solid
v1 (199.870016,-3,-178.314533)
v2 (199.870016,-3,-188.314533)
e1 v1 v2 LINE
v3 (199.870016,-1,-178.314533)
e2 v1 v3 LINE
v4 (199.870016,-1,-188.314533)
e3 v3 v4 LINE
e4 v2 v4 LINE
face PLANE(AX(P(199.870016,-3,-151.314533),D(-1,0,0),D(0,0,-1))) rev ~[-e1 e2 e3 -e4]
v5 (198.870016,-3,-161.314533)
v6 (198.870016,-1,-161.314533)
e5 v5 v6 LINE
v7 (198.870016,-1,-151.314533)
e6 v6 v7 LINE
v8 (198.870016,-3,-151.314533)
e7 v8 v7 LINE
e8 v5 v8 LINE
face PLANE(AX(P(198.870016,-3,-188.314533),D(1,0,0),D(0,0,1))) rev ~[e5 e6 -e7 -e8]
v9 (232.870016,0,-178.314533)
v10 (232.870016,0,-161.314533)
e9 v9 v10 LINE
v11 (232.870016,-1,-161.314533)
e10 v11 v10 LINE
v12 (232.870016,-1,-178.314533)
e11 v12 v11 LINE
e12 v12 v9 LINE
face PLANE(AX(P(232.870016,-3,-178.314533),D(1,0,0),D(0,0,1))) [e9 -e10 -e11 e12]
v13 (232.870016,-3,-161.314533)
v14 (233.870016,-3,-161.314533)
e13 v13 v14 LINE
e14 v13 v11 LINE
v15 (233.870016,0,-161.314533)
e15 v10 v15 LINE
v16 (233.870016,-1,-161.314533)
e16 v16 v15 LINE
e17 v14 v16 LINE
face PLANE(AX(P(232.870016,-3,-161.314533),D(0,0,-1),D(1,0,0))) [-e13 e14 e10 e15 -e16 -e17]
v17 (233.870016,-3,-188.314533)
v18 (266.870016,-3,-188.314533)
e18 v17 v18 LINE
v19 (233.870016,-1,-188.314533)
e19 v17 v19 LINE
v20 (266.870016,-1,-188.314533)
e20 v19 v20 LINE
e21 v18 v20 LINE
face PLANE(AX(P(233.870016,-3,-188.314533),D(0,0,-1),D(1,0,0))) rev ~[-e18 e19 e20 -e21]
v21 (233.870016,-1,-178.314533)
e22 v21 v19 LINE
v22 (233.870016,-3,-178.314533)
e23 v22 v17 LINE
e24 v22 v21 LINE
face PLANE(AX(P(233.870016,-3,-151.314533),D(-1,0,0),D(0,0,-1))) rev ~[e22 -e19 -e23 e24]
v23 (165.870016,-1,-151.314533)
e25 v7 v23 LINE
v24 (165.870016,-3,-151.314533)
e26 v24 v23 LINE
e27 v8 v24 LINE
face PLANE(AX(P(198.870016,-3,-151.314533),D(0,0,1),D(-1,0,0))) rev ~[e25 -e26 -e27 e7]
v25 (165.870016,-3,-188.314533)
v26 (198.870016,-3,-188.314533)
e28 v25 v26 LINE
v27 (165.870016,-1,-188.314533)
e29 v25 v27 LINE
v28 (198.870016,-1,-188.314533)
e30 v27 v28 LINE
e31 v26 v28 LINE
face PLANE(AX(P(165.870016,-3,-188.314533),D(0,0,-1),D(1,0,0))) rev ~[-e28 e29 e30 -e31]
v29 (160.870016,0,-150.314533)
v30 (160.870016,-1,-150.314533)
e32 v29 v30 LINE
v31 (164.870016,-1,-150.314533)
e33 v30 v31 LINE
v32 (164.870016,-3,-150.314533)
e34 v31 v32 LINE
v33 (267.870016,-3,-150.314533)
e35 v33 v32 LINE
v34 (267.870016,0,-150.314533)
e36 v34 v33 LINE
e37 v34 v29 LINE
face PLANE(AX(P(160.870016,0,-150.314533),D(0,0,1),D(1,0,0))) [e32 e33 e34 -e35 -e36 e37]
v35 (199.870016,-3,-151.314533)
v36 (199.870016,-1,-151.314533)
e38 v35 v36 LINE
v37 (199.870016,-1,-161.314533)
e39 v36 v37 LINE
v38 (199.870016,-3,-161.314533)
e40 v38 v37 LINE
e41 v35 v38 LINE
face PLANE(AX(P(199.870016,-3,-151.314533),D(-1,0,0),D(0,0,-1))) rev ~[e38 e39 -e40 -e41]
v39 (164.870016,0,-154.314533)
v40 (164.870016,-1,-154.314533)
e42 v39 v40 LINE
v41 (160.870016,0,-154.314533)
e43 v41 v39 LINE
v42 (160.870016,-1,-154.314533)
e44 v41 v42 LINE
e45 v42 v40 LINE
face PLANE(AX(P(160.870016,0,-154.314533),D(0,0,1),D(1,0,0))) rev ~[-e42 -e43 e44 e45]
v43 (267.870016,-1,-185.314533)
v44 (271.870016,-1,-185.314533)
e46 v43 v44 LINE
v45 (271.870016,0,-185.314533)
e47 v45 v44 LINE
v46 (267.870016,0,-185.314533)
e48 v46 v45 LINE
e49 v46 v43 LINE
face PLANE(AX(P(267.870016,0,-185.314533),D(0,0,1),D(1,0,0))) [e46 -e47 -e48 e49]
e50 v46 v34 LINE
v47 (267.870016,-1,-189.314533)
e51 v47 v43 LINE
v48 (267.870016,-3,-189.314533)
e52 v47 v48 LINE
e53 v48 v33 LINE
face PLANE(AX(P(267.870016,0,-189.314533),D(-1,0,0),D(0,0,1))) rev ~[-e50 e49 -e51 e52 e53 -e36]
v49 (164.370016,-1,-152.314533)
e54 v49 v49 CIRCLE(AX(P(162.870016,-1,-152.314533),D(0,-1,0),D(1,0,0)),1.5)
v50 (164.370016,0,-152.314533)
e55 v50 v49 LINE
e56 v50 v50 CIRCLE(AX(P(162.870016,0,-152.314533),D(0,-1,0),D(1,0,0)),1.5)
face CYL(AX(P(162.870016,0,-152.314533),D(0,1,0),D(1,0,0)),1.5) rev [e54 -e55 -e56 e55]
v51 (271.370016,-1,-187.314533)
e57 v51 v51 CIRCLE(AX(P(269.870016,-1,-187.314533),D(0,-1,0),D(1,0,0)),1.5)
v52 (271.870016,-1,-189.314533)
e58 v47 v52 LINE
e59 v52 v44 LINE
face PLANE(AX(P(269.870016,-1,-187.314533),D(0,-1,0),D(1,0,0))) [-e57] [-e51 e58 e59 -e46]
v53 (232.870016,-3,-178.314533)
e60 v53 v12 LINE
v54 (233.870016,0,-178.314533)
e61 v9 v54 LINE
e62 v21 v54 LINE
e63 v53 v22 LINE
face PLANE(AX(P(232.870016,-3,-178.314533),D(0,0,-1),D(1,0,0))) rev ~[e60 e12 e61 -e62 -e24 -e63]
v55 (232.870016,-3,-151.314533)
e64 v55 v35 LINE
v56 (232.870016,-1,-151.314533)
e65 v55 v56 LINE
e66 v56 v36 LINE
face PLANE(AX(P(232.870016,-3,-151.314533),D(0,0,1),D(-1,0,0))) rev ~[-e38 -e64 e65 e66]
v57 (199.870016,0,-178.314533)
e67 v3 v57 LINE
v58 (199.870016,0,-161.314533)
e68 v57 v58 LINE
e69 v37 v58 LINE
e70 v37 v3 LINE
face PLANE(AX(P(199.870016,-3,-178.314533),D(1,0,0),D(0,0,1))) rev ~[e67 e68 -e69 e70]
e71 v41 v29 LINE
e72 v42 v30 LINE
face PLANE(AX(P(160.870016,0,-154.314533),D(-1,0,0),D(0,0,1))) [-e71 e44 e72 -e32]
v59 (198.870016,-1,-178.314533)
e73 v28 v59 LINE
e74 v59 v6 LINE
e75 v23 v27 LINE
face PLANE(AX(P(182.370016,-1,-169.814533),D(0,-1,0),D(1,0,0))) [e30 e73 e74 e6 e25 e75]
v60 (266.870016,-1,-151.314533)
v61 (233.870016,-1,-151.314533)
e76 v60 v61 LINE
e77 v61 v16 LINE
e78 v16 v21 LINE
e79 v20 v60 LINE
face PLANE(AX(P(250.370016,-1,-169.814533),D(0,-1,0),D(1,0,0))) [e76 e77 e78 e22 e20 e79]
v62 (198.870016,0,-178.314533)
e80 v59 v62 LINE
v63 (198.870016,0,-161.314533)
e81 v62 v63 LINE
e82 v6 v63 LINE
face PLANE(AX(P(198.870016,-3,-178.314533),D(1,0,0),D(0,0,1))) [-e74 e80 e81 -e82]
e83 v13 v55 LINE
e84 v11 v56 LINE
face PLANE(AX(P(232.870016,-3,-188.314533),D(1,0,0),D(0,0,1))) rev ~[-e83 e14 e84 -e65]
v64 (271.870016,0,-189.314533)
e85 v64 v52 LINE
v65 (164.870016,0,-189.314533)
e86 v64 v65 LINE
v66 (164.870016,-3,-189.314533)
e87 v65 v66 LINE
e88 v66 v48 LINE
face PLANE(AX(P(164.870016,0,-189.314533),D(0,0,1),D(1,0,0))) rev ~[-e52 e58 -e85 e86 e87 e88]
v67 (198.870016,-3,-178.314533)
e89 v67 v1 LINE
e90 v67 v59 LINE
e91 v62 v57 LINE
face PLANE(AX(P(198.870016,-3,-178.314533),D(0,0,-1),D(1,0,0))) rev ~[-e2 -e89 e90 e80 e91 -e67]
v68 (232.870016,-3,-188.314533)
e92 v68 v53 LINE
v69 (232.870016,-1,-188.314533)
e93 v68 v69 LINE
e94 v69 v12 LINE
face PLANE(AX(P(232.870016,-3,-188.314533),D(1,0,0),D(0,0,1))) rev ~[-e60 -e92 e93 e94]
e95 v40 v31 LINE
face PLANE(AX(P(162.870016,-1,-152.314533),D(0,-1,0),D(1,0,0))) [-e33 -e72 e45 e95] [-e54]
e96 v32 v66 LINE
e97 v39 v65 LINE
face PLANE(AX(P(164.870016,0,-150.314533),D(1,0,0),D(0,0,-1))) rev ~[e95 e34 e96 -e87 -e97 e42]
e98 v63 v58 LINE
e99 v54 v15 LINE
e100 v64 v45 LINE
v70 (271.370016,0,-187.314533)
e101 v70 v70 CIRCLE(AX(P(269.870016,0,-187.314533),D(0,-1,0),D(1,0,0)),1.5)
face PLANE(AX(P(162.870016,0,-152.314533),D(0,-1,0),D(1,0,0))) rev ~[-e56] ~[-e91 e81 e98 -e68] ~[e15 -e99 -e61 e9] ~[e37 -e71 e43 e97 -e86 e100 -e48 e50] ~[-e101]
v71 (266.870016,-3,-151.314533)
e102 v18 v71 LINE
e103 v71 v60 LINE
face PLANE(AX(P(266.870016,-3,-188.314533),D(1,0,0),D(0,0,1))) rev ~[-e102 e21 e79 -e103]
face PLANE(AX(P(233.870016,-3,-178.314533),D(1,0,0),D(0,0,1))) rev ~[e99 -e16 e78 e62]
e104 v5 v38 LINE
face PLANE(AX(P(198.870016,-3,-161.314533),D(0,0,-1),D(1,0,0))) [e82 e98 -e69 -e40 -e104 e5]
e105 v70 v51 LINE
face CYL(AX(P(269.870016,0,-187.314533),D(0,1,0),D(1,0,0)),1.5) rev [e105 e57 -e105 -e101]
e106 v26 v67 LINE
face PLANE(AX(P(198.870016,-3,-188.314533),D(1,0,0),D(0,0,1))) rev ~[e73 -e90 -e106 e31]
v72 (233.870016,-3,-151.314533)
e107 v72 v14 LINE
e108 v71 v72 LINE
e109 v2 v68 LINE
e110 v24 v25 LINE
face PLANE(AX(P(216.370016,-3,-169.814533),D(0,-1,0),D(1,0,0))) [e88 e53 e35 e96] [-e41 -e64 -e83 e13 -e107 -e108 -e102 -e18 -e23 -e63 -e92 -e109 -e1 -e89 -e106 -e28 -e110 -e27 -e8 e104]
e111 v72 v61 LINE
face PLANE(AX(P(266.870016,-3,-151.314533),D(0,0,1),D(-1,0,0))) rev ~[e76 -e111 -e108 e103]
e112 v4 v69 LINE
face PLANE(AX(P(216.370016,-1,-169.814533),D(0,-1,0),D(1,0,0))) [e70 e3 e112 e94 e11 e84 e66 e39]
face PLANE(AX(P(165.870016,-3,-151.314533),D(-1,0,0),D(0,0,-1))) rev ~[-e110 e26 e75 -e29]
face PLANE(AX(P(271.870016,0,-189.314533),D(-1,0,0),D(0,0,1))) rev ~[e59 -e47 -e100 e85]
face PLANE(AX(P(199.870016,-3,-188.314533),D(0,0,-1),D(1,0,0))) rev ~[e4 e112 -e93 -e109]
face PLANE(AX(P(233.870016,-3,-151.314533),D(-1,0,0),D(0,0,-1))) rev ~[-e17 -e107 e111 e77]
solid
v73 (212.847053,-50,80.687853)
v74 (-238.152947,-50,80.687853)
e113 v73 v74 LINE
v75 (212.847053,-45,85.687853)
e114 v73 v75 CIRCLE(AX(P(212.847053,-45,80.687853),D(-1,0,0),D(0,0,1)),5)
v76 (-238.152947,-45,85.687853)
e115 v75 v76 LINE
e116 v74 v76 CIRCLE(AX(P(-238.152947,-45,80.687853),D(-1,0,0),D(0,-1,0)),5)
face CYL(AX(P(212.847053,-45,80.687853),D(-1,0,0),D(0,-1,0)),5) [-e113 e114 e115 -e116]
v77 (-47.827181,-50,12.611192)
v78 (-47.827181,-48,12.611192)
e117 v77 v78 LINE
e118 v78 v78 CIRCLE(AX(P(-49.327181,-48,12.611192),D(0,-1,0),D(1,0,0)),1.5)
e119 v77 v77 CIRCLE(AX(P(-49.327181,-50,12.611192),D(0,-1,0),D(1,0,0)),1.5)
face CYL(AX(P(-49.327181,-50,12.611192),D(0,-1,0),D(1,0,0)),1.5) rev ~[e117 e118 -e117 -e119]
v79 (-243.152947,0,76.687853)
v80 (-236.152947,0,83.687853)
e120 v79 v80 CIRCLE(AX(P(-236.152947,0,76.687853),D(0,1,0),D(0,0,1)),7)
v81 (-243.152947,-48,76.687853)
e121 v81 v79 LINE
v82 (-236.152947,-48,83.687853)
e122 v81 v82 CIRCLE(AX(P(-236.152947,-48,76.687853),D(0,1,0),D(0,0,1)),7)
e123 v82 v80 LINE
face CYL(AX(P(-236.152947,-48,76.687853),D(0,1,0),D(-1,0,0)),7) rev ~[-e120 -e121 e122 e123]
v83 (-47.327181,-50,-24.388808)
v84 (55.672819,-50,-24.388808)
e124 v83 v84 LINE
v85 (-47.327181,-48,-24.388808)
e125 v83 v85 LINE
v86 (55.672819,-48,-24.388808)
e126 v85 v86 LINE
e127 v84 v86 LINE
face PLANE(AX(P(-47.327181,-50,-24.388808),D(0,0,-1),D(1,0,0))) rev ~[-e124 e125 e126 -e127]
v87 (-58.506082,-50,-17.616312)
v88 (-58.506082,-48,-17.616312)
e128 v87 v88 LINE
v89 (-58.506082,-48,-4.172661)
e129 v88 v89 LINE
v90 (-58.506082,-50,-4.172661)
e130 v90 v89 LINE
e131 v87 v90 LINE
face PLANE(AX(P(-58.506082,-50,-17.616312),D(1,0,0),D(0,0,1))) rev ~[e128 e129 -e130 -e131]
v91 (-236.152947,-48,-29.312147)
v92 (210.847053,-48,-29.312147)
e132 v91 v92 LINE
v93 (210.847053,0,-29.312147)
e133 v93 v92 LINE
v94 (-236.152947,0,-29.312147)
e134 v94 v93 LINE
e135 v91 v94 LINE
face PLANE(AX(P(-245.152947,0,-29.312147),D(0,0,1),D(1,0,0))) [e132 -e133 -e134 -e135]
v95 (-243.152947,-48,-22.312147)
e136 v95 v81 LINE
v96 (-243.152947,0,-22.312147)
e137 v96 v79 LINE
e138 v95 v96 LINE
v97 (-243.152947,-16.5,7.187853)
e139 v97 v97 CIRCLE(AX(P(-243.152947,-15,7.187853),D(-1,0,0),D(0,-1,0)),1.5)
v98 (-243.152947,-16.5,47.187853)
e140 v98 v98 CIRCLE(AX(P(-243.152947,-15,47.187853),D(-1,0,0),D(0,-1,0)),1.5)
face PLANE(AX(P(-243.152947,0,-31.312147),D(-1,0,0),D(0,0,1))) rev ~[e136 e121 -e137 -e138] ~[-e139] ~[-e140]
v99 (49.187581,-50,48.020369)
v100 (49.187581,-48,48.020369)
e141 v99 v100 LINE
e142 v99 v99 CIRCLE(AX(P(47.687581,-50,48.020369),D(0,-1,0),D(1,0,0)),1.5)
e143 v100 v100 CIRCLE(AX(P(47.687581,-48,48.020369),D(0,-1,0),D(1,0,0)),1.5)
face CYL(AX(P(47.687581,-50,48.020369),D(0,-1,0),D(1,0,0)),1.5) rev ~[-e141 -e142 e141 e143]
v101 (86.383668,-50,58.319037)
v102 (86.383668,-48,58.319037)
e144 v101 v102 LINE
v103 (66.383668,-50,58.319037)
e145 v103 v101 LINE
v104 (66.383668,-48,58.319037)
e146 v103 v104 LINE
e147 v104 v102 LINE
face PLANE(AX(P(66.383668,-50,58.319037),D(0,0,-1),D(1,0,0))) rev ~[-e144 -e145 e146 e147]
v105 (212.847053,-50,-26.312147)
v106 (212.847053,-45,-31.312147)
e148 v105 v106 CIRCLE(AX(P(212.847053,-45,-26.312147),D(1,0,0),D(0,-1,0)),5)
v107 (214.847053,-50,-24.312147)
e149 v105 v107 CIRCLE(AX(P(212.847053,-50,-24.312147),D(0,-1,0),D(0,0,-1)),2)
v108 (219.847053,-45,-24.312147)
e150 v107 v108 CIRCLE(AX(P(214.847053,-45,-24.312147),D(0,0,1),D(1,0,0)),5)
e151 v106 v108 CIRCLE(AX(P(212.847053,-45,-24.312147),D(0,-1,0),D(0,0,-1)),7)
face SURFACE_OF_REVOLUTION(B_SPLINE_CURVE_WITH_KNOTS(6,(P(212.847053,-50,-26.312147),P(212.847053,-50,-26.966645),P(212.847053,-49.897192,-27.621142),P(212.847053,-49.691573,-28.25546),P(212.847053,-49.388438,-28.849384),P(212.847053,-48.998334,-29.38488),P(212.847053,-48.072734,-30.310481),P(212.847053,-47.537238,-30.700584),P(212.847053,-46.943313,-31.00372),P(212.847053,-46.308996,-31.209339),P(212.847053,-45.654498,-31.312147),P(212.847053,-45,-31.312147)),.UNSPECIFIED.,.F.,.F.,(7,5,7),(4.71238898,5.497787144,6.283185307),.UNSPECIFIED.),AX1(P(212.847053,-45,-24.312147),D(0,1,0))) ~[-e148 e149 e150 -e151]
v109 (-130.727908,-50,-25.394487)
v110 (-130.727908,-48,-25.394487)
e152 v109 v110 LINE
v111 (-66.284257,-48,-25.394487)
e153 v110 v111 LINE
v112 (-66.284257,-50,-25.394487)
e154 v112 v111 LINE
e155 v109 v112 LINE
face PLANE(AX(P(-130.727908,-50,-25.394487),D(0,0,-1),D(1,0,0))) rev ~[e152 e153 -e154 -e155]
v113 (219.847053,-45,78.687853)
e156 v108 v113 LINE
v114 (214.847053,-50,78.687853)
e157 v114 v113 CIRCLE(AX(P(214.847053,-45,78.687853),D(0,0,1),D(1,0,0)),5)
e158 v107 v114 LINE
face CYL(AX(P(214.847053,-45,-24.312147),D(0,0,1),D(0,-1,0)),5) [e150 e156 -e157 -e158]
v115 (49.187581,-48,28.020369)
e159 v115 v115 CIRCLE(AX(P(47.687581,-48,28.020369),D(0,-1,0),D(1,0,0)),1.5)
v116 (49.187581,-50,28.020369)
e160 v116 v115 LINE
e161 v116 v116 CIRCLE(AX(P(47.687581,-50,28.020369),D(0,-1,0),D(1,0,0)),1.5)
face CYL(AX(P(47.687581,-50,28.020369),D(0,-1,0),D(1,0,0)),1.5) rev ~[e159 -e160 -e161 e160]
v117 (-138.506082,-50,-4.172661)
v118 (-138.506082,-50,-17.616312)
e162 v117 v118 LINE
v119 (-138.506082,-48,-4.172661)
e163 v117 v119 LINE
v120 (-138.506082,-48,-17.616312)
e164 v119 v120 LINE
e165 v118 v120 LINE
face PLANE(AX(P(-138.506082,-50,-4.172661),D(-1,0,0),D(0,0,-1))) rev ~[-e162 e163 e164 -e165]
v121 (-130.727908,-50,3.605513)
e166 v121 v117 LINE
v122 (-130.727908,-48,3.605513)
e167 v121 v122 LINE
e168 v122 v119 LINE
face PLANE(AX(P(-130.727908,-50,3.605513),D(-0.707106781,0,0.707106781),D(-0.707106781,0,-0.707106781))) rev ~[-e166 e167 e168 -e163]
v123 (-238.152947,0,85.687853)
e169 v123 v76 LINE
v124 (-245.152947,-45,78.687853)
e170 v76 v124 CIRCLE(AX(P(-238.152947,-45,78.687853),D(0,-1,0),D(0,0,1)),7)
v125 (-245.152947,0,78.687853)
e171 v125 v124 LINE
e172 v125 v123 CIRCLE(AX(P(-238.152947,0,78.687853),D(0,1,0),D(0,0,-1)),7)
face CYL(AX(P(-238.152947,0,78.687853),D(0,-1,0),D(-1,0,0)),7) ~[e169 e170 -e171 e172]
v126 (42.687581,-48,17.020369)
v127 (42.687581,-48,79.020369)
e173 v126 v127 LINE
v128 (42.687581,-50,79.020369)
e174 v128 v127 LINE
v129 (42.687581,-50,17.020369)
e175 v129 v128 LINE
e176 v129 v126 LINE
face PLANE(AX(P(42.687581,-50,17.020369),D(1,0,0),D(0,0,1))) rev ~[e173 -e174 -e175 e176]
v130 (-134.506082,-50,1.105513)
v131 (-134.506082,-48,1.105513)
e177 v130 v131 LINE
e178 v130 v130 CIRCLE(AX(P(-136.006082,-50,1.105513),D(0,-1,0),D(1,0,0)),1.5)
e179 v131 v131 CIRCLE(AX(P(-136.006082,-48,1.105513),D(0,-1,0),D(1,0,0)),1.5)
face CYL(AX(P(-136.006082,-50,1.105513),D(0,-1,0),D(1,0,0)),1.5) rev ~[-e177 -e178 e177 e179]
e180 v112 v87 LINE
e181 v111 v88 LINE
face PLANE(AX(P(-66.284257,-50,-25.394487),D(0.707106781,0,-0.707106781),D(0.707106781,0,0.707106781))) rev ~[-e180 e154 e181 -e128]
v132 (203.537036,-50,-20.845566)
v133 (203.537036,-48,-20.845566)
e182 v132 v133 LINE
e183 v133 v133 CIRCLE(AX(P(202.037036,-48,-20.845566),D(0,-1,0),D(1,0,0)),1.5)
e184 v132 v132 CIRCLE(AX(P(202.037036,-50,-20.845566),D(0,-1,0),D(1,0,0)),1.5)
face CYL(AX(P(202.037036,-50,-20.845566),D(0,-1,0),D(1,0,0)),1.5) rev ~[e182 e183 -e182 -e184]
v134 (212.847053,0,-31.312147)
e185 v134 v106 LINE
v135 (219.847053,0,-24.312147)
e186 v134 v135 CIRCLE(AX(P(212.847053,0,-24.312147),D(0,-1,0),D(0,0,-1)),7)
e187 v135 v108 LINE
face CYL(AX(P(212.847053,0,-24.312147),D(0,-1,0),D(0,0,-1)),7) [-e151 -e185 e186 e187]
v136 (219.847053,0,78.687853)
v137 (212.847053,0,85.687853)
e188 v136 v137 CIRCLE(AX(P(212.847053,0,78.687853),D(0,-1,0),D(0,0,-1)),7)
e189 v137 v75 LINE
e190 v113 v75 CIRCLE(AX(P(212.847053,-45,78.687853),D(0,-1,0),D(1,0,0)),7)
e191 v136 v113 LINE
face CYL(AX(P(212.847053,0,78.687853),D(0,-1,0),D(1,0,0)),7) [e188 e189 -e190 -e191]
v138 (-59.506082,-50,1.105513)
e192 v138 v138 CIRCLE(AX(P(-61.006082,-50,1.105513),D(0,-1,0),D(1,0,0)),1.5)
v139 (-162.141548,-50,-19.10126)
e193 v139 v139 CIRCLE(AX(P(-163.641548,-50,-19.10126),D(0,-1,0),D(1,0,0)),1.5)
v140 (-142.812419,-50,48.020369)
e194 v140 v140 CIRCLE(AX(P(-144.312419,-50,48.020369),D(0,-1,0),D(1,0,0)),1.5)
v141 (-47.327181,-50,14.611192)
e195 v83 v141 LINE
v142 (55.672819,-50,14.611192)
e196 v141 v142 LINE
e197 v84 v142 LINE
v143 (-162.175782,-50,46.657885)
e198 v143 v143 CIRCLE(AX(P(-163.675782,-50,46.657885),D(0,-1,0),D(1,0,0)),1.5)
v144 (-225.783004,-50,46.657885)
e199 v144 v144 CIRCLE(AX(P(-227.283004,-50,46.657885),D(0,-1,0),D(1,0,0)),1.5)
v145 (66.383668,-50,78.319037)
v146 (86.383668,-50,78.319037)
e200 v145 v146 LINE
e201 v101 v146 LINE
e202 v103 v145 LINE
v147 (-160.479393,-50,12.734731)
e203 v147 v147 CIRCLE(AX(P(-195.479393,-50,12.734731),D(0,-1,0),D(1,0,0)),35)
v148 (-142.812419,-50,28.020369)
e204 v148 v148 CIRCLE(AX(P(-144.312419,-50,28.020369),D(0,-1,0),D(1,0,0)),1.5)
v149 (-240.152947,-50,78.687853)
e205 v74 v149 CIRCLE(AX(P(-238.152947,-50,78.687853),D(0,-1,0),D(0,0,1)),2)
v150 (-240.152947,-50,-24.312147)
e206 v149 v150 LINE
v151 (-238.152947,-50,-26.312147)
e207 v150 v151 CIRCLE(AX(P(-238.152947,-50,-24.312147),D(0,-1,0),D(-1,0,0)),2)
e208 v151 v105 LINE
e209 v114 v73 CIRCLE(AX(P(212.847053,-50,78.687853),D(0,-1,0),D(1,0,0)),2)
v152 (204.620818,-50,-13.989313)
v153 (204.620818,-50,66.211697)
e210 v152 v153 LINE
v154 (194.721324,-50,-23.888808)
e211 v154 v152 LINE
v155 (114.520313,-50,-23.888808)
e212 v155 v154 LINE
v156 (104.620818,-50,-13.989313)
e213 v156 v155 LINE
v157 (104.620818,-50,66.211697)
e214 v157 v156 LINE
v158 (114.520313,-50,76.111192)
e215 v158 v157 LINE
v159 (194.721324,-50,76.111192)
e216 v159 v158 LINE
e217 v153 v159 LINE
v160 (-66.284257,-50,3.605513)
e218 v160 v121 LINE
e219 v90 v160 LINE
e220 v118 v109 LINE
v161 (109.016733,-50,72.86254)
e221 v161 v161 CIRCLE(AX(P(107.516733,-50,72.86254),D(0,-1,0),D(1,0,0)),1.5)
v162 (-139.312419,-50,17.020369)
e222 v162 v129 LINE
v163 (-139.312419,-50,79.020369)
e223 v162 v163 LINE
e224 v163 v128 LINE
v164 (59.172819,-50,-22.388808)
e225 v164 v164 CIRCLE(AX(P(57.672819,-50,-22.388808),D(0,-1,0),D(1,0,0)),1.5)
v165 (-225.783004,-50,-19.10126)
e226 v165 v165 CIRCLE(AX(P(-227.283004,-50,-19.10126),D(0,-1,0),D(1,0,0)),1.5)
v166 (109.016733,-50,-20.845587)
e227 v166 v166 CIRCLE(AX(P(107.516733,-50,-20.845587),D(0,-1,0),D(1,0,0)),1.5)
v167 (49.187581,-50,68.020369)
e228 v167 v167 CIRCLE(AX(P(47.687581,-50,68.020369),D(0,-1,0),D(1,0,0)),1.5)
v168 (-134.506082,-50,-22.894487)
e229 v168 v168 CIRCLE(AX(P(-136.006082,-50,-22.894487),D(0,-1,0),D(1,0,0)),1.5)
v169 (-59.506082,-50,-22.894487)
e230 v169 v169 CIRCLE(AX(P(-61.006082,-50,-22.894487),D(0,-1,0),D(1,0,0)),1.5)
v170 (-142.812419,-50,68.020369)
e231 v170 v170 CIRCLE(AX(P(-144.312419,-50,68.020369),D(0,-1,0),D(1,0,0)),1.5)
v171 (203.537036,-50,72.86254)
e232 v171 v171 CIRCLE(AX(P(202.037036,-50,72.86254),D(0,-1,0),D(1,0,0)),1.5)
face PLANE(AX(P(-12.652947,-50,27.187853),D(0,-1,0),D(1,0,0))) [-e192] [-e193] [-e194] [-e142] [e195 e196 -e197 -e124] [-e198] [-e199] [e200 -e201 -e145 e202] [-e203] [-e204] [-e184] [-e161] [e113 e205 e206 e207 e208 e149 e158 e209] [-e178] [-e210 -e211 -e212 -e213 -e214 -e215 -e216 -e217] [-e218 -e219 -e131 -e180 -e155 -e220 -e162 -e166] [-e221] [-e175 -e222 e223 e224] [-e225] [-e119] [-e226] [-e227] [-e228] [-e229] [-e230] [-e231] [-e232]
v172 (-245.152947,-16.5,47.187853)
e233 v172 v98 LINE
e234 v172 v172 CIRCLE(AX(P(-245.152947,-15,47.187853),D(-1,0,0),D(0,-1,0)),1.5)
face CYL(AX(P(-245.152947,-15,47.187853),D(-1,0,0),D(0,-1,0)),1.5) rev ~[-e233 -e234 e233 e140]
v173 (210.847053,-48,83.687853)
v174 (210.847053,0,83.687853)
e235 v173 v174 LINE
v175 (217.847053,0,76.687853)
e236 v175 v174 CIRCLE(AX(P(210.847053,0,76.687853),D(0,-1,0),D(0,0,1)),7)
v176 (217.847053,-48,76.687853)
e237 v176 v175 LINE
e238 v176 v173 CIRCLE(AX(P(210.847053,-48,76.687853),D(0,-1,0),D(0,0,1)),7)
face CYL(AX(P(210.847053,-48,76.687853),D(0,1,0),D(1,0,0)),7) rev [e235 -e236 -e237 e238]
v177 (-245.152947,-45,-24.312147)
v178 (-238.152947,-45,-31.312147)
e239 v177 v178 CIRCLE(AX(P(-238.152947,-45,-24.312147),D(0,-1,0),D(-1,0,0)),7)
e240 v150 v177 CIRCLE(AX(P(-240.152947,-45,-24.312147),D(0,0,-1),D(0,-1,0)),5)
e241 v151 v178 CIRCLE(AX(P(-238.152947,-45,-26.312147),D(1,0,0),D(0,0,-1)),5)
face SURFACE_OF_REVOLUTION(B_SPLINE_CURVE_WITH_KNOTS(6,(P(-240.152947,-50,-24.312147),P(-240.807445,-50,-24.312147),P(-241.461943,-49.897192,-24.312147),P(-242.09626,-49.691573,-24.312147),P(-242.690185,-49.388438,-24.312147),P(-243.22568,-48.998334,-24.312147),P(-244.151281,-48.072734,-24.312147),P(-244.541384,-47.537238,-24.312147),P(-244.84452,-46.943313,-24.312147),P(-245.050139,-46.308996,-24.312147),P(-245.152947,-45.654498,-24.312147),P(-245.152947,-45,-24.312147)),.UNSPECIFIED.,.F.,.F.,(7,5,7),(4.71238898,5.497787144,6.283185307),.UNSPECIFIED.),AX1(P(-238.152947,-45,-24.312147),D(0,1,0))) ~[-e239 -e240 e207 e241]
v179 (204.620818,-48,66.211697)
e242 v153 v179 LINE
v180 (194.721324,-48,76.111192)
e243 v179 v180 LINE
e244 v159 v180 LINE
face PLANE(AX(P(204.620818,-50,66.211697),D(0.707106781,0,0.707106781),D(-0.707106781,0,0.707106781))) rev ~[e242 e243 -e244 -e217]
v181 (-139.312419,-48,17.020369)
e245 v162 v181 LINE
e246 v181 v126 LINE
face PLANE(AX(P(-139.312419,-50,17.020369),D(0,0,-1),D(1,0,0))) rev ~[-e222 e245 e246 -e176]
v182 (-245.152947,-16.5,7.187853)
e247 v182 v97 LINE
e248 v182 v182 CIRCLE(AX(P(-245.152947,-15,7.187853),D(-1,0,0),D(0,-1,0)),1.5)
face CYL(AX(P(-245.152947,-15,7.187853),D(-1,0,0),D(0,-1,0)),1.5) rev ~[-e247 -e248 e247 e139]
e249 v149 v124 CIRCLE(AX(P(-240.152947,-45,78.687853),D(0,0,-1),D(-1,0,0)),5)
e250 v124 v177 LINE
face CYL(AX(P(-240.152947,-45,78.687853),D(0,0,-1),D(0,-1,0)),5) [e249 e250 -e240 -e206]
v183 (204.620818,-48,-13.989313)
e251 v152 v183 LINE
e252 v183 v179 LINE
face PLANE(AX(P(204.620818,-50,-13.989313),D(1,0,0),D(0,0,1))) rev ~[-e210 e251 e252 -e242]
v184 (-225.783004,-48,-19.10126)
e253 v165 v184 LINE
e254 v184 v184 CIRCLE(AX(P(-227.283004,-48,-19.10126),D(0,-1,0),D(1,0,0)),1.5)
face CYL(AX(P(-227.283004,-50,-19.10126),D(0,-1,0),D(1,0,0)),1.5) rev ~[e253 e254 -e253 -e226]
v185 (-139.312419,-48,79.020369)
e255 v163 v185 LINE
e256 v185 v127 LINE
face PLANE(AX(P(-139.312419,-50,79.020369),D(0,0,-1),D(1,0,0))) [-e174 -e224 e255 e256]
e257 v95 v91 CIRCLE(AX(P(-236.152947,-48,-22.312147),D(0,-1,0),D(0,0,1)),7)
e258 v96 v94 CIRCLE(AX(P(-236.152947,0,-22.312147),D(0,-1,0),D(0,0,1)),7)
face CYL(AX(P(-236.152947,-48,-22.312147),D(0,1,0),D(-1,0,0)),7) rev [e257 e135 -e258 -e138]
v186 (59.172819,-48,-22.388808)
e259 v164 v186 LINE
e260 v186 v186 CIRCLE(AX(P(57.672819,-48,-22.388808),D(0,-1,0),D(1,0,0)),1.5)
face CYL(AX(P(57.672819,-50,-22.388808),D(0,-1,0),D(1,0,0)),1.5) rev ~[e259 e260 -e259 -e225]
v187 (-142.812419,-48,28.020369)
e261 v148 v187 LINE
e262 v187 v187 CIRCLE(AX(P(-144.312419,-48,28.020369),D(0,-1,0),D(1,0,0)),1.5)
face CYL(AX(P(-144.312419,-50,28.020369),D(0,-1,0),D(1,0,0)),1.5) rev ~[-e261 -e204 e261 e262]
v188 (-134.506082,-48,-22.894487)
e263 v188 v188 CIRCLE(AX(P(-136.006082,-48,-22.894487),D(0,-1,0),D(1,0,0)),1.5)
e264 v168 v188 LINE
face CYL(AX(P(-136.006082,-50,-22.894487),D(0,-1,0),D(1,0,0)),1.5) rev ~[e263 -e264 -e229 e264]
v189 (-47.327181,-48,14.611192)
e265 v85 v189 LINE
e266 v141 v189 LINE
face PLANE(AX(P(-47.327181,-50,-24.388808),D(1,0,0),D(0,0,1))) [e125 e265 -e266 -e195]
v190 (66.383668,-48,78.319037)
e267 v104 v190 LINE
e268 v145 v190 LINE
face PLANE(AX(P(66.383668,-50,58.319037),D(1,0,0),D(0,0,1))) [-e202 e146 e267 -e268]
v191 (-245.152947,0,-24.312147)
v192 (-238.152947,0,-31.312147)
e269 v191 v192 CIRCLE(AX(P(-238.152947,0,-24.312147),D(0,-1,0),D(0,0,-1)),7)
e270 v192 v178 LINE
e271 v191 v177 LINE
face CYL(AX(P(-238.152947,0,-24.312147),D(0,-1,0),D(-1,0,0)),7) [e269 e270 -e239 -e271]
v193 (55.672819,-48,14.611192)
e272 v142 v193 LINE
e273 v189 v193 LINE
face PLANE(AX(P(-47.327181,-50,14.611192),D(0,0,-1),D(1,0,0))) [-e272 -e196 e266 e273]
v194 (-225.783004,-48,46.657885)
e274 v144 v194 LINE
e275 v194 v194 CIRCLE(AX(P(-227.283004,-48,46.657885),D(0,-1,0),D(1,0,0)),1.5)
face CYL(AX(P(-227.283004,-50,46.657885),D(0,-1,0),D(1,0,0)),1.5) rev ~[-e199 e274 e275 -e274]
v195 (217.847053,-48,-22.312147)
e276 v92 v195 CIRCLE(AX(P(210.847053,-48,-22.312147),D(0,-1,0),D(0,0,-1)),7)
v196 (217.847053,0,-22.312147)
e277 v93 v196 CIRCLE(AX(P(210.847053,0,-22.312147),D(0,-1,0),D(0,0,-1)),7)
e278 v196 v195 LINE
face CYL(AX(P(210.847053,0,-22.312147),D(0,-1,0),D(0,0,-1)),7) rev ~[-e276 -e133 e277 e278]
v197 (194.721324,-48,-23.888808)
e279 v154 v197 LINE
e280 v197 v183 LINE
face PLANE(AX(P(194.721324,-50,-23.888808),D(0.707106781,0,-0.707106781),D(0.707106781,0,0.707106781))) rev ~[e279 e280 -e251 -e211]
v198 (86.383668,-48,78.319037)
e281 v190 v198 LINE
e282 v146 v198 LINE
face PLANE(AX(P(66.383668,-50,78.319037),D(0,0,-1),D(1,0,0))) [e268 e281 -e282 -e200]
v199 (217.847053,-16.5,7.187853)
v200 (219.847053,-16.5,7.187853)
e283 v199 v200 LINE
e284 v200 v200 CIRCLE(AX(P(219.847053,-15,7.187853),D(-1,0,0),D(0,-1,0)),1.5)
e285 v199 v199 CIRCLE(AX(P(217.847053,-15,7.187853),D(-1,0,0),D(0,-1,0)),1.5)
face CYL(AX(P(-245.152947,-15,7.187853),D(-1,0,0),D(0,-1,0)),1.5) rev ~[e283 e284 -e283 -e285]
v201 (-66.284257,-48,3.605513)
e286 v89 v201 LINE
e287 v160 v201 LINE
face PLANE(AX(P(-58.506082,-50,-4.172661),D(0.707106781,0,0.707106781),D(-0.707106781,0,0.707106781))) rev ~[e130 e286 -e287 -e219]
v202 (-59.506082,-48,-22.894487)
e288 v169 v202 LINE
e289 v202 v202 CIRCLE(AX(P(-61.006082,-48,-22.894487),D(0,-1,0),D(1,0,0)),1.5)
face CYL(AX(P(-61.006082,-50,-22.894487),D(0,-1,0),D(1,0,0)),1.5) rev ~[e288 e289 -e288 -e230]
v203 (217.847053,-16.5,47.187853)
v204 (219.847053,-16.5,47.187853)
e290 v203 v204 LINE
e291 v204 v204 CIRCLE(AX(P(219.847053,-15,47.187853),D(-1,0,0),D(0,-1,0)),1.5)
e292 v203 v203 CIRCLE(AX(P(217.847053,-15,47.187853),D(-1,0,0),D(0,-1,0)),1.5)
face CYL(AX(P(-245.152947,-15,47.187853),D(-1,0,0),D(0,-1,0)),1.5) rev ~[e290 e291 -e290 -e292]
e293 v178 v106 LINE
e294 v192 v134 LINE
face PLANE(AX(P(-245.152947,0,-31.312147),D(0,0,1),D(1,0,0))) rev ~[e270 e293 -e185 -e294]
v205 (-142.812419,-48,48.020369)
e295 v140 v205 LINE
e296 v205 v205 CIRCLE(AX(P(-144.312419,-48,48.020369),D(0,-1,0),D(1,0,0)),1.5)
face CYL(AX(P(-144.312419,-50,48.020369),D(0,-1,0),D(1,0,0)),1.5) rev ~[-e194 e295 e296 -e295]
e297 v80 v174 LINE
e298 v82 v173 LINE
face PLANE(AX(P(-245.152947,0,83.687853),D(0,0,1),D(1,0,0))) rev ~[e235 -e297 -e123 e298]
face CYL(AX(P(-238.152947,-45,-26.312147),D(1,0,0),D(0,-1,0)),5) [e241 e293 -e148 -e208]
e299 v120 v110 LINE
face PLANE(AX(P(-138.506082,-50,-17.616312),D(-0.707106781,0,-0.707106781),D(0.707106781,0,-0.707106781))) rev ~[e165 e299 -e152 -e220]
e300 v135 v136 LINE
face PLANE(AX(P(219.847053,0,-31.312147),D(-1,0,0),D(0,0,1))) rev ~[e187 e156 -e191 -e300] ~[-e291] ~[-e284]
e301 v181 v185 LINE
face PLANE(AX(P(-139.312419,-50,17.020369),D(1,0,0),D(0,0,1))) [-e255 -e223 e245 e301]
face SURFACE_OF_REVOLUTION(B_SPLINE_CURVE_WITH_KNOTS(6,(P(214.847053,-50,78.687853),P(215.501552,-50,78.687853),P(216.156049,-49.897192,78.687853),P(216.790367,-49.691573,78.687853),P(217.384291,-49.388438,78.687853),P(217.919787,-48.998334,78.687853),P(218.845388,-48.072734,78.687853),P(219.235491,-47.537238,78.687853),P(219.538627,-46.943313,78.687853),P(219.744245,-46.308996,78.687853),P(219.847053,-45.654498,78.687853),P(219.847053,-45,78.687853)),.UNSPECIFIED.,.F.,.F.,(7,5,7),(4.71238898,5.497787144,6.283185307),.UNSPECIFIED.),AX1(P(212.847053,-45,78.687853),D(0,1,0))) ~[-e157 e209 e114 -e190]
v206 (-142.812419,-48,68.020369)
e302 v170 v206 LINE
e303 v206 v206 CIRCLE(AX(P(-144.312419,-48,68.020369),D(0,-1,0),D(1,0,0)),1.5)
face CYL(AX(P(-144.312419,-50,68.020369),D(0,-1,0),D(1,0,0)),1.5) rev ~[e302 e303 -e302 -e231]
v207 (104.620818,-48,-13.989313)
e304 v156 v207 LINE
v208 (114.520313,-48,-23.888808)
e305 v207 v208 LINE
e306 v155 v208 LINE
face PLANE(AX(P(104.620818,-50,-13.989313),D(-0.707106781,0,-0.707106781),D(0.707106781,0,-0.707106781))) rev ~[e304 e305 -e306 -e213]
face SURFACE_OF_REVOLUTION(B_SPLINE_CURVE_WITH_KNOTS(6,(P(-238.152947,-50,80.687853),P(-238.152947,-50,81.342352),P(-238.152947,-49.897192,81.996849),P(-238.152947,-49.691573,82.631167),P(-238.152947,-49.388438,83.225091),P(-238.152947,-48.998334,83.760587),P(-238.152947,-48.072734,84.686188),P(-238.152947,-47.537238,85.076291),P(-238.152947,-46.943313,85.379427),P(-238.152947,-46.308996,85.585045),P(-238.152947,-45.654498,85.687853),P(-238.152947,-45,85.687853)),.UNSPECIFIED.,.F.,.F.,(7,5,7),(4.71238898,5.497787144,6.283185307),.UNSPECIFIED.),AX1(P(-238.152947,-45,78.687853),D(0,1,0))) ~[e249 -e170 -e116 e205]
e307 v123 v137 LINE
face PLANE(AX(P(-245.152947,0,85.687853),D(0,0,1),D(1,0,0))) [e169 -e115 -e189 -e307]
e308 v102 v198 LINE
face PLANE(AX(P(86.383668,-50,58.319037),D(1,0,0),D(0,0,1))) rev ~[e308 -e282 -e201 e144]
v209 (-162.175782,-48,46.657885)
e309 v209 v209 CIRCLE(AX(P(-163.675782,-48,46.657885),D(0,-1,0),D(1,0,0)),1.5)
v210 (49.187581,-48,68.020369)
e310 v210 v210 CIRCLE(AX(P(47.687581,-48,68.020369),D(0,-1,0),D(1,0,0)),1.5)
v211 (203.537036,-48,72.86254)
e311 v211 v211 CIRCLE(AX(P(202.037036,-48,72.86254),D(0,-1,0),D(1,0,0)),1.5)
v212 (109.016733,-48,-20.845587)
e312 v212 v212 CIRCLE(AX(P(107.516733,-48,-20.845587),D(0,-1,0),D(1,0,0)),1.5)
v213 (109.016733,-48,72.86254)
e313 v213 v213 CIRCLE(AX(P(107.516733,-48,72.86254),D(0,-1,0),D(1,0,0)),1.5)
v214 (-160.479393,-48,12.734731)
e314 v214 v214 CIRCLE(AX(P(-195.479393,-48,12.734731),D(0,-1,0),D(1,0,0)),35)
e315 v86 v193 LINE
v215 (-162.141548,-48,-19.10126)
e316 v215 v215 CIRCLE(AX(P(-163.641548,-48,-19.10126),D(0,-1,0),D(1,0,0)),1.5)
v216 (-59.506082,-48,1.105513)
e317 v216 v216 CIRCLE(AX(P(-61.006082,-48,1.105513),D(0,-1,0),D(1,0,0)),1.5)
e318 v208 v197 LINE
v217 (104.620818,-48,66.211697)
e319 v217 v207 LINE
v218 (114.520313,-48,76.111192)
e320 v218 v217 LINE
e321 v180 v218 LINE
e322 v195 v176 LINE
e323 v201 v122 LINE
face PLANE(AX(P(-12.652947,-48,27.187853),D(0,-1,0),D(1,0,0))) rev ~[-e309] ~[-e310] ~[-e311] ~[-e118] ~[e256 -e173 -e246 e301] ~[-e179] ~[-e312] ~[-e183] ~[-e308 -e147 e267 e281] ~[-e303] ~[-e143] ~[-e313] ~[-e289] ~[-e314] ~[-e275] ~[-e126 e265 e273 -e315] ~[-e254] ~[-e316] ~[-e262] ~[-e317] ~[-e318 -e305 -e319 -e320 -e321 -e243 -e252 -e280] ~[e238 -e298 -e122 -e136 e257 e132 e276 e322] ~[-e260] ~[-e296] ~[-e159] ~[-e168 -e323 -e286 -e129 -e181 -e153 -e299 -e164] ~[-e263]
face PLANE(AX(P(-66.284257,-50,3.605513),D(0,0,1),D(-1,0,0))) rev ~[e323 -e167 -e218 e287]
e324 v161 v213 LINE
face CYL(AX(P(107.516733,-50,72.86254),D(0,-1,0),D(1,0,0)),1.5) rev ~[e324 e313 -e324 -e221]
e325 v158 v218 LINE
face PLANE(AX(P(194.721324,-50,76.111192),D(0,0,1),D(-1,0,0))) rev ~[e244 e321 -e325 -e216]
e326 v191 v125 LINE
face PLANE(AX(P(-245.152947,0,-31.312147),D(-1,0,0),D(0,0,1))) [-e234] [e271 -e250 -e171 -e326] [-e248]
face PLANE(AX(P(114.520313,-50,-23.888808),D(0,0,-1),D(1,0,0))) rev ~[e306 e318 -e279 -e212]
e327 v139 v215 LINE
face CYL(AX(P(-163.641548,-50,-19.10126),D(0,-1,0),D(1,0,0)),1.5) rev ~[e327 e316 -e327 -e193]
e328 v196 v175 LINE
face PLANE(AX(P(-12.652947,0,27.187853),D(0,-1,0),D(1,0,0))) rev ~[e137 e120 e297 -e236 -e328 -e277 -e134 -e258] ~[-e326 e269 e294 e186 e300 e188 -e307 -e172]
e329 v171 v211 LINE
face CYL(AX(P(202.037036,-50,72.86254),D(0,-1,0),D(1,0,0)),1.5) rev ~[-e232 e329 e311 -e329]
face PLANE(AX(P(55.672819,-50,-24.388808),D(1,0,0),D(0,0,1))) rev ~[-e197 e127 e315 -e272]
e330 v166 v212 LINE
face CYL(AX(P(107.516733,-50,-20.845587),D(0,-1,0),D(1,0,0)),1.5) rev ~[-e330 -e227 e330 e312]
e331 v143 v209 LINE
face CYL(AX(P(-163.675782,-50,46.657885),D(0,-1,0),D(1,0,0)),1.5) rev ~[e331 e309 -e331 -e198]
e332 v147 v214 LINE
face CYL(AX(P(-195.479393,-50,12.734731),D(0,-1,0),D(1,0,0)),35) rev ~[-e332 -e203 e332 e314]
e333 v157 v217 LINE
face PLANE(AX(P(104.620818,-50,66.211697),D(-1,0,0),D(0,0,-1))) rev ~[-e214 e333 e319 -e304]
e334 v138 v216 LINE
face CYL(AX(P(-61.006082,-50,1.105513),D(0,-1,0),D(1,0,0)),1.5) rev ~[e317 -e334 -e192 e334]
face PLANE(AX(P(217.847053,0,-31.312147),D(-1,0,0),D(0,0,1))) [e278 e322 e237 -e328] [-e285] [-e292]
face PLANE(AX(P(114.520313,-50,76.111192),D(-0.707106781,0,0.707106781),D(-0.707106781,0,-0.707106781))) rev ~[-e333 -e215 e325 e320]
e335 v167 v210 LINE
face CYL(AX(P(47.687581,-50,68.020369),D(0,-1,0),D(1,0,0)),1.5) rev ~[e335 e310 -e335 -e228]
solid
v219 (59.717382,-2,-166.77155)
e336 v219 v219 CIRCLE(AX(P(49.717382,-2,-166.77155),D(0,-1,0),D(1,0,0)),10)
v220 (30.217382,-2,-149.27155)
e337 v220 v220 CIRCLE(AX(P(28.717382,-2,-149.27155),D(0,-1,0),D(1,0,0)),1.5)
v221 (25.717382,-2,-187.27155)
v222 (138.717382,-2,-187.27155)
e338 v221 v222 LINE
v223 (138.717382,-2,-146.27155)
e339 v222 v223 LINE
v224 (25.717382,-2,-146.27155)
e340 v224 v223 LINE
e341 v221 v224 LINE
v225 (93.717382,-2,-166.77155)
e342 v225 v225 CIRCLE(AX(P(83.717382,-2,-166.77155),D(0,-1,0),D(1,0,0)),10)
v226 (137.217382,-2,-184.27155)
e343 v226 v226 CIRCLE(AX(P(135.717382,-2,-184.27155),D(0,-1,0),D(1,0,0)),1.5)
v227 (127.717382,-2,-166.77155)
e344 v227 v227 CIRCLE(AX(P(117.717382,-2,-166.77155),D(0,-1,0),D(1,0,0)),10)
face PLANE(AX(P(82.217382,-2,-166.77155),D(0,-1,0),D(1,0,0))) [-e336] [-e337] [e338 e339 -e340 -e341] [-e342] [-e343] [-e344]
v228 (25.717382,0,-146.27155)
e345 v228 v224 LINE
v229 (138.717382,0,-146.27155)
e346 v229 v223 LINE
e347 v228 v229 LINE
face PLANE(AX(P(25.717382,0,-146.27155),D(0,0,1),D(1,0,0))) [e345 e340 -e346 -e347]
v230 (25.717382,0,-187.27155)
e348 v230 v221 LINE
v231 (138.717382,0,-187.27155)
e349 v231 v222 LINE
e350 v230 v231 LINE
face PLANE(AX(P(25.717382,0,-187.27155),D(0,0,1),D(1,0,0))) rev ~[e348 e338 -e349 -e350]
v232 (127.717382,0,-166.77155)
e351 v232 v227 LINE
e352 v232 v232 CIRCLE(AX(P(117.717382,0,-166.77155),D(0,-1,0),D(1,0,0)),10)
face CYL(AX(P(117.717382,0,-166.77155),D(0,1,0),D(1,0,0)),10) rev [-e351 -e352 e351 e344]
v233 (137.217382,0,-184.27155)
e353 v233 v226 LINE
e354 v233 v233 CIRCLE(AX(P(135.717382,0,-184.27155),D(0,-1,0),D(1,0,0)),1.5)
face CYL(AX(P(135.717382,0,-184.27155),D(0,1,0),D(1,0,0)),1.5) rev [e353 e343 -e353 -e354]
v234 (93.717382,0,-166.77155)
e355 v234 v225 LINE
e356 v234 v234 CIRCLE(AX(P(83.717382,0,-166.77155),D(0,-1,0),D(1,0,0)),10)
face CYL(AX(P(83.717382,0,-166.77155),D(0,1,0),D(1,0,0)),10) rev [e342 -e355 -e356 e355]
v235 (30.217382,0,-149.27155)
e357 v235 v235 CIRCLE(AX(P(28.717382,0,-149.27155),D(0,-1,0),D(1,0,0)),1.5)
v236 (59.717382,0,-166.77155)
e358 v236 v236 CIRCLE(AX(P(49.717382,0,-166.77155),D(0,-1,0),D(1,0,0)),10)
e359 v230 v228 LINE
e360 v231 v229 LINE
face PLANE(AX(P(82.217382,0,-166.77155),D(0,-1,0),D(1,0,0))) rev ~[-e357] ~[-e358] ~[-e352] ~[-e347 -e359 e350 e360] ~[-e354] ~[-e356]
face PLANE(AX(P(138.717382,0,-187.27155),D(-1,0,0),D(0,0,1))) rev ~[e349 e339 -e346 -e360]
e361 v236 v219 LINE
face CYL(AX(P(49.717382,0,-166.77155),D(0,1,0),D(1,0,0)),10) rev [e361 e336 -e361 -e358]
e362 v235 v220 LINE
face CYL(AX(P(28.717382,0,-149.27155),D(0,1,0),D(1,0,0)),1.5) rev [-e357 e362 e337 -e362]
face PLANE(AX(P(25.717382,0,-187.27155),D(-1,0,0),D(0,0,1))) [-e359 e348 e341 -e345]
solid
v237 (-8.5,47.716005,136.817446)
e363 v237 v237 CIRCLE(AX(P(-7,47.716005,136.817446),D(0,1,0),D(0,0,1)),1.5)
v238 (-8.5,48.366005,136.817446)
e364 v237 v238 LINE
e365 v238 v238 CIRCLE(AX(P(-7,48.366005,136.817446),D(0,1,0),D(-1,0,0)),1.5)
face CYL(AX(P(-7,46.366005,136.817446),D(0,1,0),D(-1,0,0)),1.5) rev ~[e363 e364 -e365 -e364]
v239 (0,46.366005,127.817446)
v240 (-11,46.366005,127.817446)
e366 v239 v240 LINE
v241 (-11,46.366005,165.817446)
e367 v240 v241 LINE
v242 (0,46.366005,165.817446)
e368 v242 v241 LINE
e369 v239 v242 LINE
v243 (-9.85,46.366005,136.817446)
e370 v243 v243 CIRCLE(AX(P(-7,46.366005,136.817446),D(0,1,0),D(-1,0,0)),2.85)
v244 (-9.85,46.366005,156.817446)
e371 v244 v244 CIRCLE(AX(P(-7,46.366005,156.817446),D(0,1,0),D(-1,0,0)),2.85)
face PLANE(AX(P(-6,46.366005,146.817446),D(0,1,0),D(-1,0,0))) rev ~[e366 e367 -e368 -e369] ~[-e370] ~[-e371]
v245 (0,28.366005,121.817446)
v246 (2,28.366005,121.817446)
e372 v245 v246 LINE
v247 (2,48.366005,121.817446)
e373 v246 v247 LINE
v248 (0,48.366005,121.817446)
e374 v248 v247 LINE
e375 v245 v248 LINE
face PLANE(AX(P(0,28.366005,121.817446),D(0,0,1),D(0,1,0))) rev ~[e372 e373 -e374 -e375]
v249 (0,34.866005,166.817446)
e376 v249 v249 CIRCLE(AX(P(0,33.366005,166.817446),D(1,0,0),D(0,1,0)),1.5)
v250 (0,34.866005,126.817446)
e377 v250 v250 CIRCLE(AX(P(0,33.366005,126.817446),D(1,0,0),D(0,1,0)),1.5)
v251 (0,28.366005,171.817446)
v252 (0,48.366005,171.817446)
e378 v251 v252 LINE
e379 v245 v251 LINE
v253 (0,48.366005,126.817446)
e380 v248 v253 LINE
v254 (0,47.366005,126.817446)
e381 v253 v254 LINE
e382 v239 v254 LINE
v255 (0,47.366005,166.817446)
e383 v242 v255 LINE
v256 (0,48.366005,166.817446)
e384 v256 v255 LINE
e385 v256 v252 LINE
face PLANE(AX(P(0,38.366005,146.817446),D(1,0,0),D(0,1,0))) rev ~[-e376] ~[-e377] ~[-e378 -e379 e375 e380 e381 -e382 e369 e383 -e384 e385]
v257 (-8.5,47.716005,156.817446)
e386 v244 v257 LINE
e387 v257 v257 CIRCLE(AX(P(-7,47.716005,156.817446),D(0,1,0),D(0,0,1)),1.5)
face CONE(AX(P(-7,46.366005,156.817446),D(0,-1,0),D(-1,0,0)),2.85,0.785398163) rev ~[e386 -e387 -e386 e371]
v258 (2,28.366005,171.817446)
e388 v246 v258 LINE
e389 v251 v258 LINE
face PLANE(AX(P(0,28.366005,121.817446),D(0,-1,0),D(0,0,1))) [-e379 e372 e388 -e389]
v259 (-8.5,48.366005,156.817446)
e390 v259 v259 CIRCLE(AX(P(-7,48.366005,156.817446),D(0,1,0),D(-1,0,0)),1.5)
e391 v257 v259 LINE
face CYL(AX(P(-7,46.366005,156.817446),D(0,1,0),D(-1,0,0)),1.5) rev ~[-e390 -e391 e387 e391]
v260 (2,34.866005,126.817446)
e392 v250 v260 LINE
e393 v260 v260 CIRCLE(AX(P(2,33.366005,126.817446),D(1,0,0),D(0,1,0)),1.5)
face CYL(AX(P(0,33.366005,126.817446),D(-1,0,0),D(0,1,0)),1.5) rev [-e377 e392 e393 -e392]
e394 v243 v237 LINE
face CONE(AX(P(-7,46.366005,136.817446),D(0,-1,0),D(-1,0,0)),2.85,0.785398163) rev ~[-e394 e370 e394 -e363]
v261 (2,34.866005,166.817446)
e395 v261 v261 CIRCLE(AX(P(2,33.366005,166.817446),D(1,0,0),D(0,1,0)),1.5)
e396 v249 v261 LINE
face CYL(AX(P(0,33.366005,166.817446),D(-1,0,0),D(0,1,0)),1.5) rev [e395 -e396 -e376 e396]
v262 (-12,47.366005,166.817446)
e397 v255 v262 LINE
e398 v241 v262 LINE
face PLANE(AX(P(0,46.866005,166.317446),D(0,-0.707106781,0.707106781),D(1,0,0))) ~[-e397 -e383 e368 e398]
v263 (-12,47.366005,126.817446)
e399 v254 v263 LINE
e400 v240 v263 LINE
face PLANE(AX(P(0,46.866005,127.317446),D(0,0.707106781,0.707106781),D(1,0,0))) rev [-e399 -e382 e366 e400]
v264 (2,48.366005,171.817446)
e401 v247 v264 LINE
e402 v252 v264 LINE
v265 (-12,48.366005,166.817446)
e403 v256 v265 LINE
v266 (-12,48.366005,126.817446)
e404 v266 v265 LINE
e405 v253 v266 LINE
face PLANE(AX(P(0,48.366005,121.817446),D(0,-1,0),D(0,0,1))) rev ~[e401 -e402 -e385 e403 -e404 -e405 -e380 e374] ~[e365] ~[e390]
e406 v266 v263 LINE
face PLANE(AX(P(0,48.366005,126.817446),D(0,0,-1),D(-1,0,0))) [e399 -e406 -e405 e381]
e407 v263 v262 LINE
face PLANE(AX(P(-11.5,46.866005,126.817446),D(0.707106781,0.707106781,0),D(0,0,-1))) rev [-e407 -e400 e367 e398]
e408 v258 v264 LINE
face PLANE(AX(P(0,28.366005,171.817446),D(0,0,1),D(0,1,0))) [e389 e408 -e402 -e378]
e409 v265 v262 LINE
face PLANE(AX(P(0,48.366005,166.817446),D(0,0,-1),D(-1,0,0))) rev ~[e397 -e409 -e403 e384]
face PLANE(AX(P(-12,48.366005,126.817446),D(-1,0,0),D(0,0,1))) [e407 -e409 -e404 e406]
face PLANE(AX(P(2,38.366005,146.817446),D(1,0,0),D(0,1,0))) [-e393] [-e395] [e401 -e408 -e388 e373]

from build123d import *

# Parameters (mm, degrees)
F0_W            = 465
F0_H            = 117
F1_DEPTH        = 50
F2_T            = -2
F4_R            = 7
F3_W            = 182
F3_H            = 62
F3_W_2          = 20
F3_H_2          = 20
F3_R            = 1.5
F3_W_3          = 93
F3_H_3          = 36
F3_R_2          = 9.5
F3_R_3          = 35
F3_W_4          = 103
F3_H_4          = 39
F5_DEPTH        = 25
F6_R            = 5
F8_R            = 1.5
F9_DEPTH        = 500
F10_W           = 20
F10_H           = 50
F10_R           = 1.5
F11_DEPTH       = 2
F12_W           = 12
F12_H           = 40
F13_DEPTH       = 2
F15_D           = 3
F15_CSINK_D     = 5.7
F15_CSINK_ANGLE = 90
F16_SIZE        = 1
F17_W           = 113
F17_H           = 41
F17_R           = 1.5
F17_R_2         = 10
F18_DEPTH       = 2
F20_DEPTH       = 3
F19_W           = 4
F19_H           = 4
F19_R           = 1.5
F21_DEPTH       = 1
F23_DEPTH       = 2
F22_W           = 1
F22_H           = 17
F24_DEPTH       = 3


with BuildPart() as f1:
    # F0 (on Front) → F1 (new body)
    with BuildSketch(Plane.XZ):
        with Locations((-12.6529467106, 27.1878533959)):
            Rectangle(F0_W, F0_H)
    extrude(amount=F1_DEPTH)

    # F2
    f2_openings = [f1.faces().sort_by_distance(p)[0] for p in [
        (-12.652947, 0, 27.187853),
    ]]
    offset(amount=F2_T, openings=f2_openings)

    # F4
    f4_edges = [f1.edges().sort_by_distance(p)[0] for p in [
        (-245.152947, -25, 85.687853),
        (219.847053, -25, 85.687853),
        (219.847053, -25, -31.312147),
        (-245.152947, -25, -31.312147),
        (-243.152947, -24, 83.687853),
        (-243.152947, -24, -29.312147),
        (217.847053, -24, -29.312147),
        (217.847053, -24, 83.687853),
    ]]
    fillet(f4_edges, radius=F4_R)

    # F3 (on face) → F5 (cut)
    with BuildSketch(Plane.XZ.offset(50)):
        with Locations((-48.312419115, 48.0203691069)):
            Rectangle(F3_W, F3_H)
        with Locations((76.3836680665, 68.3190373614)):
            Rectangle(F3_W_2, F3_H_2)
        Polygon((194.7213235501, 76.111191912), (114.5203134233, 76.111191912), (104.6208184867, 66.2116969754), (104.6208184867, -13.9893131514), (114.5203134233, -23.888808088), (194.7213235501, -23.888808088), (204.6208184867, -13.9893131514), (204.6208184867, 66.2116969754), align=None)
        with Locations((47.687580885, 68.0203691069)):
            Circle(F3_R)
        with Locations((47.687580885, 48.0203691069)):
            Circle(F3_R)
        with Locations((47.687580885, 28.0203691069)):
            Circle(F3_R)
        with Locations((107.5167332374, 72.8625404379)):
            Circle(F3_R)
        with Locations((80.878779198, -82.3583360478)):
            Rectangle(F3_W_3, F3_H_3)
        with Locations((51.3206828289, -84.0745766136)):
            Circle(F3_R_2, mode=Mode.SUBTRACT)
        with Locations((81.3476530956, -84.0745766136)):
            Circle(F3_R_2, mode=Mode.SUBTRACT)
        with Locations((38.378779198, -68.3583360478)):
            Circle(F3_R, mode=Mode.SUBTRACT)
        with Locations((123.378779198, -96.3583360478)):
            Circle(F3_R, mode=Mode.SUBTRACT)
        with Locations((110.7360261029, -84.0745766136)):
            Circle(F3_R_2, mode=Mode.SUBTRACT)
        Polygon((-66.2842570873, 3.6055132091), (-130.7279079012, 3.6055132091), (-138.5060824942, -4.172661384), (-138.5060824942, -17.6163121979), (-130.7279079012, -25.3944867909), (-66.2842570873, -25.3944867909), (-58.5060824942, -17.6163121979), (-58.5060824942, -4.172661384), align=None)
        with Locations((-136.0060824942, 1.1055132091)):
            Circle(F3_R)
        with Locations((-136.0060824942, -22.8944867909)):
            Circle(F3_R)
        with Locations((-61.0060824942, 1.1055132091)):
            Circle(F3_R)
        with Locations((-61.0060824942, -22.8944867909)):
            Circle(F3_R)
        with Locations((107.5167332374, -20.8455865502)):
            Circle(F3_R)
        with Locations((202.0370356229, -20.8455660029)):
            Circle(F3_R)
        with Locations((202.0370356229, 72.8625404379)):
            Circle(F3_R)
        with Locations((-195.4793932134, 12.7347313118)):
            Circle(F3_R_3)
        with Locations((-144.312419115, 68.0203691069)):
            Circle(F3_R)
        with Locations((-144.312419115, 48.0203691069)):
            Circle(F3_R)
        with Locations((-144.312419115, 28.0203691069)):
            Circle(F3_R)
        with Locations((-227.2830040105, 46.6578847659)):
            Circle(F3_R)
        with Locations((-227.2830040105, -19.1012599602)):
            Circle(F3_R)
        with Locations((-163.6415483004, -19.1012599602)):
            Circle(F3_R)
        with Locations((-163.6757824164, 46.6578847659)):
            Circle(F3_R)
        with Locations((-49.3271809206, 12.611191912)):
            Circle(F3_R)
        with Locations((57.6728190794, -22.388808088)):
            Circle(F3_R)
        with Locations((4.1728190794, -4.888808088)):
            Rectangle(F3_W_4, F3_H_4)
    extrude(amount=-F5_DEPTH, mode=Mode.SUBTRACT)

    # F6
    f6_edges = [f1.edges().sort_by_distance(p)[0] for p in [
        (217.796801, -50, 83.637601),
    ]]
    fillet(f6_edges, radius=F6_R)

    # F8 (on face) → F9 (cut)
    with BuildSketch(Plane(origin=(-245.1529467106, 0, 0), x_dir=(0, -1, 0), z_dir=(-1, 0, 0))):
        with Locations((15, 47.1878533959)):
            Circle(F8_R)
        with Locations((15, 7.1878533959)):
            Circle(F8_R)
    extrude(amount=-F9_DEPTH, mode=Mode.SUBTRACT)


with BuildPart() as f11:
    # F10 (on Right) → F11 (new body)
    with BuildSketch(Plane.YZ):
        with Locations((38.3660052121, 146.8174463511)):
            Rectangle(F10_W, F10_H)
        with Locations((33.3660052121, 126.8174463511)):
            Circle(F10_R, mode=Mode.SUBTRACT)
        with Locations((33.3660052121, 166.8174463511)):
            Circle(F10_R, mode=Mode.SUBTRACT)
    extrude(amount=F11_DEPTH)

    # F12 (on face) → F13 (join)
    with BuildSketch(Plane(origin=(0, 48.3660052121, 0), x_dir=(-1, 0, 0), z_dir=(0, 1, 0))):
        with Locations((6, 146.8174463511)):
            Rectangle(F12_W, F12_H)
    extrude(amount=-F13_DEPTH)

    # F15 (through all)
    with Locations(Plane.XZ.offset(-46.3660052121)):
        with Locations((-7, 156.8174463511), (-7, 136.8174463511)):
            CounterSinkHole(F15_D / 2, F15_CSINK_D / 2, counter_sink_angle=F15_CSINK_ANGLE)

    # F16
    f16_edges = [f11.edges().sort_by_distance(p)[0] for p in [
        (-6, 46.366005, 166.817446),
        (-12, 46.366005, 146.817446),
        (-6, 46.366005, 126.817446),
    ]]
    chamfer(f16_edges, length=F16_SIZE)


with BuildPart() as f18:
    # F17 (on Front) → F18 (new body)
    with BuildSketch(Plane.XZ):
        with Locations((82.2173821926, -166.7715502977)):
            Rectangle(F17_W, F17_H)
        with Locations((135.7173821926, -184.2715502977)):
            Circle(F17_R, mode=Mode.SUBTRACT)
        with Locations((49.7173821926, -166.7715502977)):
            Circle(F17_R_2, mode=Mode.SUBTRACT)
        with Locations((28.7173821926, -149.2715502977)):
            Circle(F17_R, mode=Mode.SUBTRACT)
        with Locations((83.7173821926, -166.7715502977)):
            Circle(F17_R_2, mode=Mode.SUBTRACT)
        with Locations((117.7173821926, -166.7715502977)):
            Circle(F17_R_2, mode=Mode.SUBTRACT)
    extrude(amount=F18_DEPTH)


with BuildPart() as f20:
    # F19 (on Front) → F20 (new body)
    with BuildSketch(Plane.XZ):
        Polygon((267.8700156212, -150.314532876), (164.8700156212, -150.314532876), (164.8700156212, -154.314532876), (164.8700156212, -189.314532876), (267.8700156212, -189.314532876), (267.8700156212, -185.314532876), align=None)
    extrude(amount=F20_DEPTH)

    # F19 (on Front) → F21 (join)
    with BuildSketch(Plane.XZ):
        with Locations((162.8700156212, -152.314532876)):
            Rectangle(F19_W, F19_H)
        with Locations((162.8700156212, -152.314532876)):
            Circle(F19_R, mode=Mode.SUBTRACT)
        with Locations((269.8700156212, -187.314532876)):
            Rectangle(F19_W, F19_H)
        with Locations((269.8700156212, -187.314532876)):
            Circle(F19_R, mode=Mode.SUBTRACT)
    extrude(amount=F21_DEPTH)

    # F22 (on face) → F23 (cut)
    with BuildSketch(Plane.XZ.offset(3)):
        Polygon((198.8700156212, -151.314532876), (165.8700156212, -151.314532876), (165.8700156212, -188.314532876), (198.8700156212, -188.314532876), (198.8700156212, -178.314532876), (198.8700156212, -161.314532876), align=None)
        Polygon((199.8700156212, -151.314532876), (199.8700156212, -161.314532876), (199.8700156212, -178.314532876), (199.8700156212, -188.314532876), (232.8700156212, -188.314532876), (232.8700156212, -178.314532876), (232.8700156212, -161.314532876), (232.8700156212, -151.314532876), align=None)
        Polygon((233.8700156212, -151.314532876), (233.8700156212, -161.314532876), (233.8700156212, -178.314532876), (233.8700156212, -188.314532876), (266.8700156212, -188.314532876), (266.8700156212, -151.314532876), align=None)
    extrude(amount=-F23_DEPTH, mode=Mode.SUBTRACT)

    # F22 (on face) → F24 (cut)
    with BuildSketch(Plane.XZ.offset(3)):
        with Locations((199.3700156212, -169.814532876)):
            Rectangle(F22_W, F22_H)
        with Locations((233.3700156212, -169.814532876)):
            Rectangle(F22_W, F22_H)
    extrude(amount=-F24_DEPTH, mode=Mode.SUBTRACT)


solid = Compound([f1.part, f11.part, f18.part, f20.part])
